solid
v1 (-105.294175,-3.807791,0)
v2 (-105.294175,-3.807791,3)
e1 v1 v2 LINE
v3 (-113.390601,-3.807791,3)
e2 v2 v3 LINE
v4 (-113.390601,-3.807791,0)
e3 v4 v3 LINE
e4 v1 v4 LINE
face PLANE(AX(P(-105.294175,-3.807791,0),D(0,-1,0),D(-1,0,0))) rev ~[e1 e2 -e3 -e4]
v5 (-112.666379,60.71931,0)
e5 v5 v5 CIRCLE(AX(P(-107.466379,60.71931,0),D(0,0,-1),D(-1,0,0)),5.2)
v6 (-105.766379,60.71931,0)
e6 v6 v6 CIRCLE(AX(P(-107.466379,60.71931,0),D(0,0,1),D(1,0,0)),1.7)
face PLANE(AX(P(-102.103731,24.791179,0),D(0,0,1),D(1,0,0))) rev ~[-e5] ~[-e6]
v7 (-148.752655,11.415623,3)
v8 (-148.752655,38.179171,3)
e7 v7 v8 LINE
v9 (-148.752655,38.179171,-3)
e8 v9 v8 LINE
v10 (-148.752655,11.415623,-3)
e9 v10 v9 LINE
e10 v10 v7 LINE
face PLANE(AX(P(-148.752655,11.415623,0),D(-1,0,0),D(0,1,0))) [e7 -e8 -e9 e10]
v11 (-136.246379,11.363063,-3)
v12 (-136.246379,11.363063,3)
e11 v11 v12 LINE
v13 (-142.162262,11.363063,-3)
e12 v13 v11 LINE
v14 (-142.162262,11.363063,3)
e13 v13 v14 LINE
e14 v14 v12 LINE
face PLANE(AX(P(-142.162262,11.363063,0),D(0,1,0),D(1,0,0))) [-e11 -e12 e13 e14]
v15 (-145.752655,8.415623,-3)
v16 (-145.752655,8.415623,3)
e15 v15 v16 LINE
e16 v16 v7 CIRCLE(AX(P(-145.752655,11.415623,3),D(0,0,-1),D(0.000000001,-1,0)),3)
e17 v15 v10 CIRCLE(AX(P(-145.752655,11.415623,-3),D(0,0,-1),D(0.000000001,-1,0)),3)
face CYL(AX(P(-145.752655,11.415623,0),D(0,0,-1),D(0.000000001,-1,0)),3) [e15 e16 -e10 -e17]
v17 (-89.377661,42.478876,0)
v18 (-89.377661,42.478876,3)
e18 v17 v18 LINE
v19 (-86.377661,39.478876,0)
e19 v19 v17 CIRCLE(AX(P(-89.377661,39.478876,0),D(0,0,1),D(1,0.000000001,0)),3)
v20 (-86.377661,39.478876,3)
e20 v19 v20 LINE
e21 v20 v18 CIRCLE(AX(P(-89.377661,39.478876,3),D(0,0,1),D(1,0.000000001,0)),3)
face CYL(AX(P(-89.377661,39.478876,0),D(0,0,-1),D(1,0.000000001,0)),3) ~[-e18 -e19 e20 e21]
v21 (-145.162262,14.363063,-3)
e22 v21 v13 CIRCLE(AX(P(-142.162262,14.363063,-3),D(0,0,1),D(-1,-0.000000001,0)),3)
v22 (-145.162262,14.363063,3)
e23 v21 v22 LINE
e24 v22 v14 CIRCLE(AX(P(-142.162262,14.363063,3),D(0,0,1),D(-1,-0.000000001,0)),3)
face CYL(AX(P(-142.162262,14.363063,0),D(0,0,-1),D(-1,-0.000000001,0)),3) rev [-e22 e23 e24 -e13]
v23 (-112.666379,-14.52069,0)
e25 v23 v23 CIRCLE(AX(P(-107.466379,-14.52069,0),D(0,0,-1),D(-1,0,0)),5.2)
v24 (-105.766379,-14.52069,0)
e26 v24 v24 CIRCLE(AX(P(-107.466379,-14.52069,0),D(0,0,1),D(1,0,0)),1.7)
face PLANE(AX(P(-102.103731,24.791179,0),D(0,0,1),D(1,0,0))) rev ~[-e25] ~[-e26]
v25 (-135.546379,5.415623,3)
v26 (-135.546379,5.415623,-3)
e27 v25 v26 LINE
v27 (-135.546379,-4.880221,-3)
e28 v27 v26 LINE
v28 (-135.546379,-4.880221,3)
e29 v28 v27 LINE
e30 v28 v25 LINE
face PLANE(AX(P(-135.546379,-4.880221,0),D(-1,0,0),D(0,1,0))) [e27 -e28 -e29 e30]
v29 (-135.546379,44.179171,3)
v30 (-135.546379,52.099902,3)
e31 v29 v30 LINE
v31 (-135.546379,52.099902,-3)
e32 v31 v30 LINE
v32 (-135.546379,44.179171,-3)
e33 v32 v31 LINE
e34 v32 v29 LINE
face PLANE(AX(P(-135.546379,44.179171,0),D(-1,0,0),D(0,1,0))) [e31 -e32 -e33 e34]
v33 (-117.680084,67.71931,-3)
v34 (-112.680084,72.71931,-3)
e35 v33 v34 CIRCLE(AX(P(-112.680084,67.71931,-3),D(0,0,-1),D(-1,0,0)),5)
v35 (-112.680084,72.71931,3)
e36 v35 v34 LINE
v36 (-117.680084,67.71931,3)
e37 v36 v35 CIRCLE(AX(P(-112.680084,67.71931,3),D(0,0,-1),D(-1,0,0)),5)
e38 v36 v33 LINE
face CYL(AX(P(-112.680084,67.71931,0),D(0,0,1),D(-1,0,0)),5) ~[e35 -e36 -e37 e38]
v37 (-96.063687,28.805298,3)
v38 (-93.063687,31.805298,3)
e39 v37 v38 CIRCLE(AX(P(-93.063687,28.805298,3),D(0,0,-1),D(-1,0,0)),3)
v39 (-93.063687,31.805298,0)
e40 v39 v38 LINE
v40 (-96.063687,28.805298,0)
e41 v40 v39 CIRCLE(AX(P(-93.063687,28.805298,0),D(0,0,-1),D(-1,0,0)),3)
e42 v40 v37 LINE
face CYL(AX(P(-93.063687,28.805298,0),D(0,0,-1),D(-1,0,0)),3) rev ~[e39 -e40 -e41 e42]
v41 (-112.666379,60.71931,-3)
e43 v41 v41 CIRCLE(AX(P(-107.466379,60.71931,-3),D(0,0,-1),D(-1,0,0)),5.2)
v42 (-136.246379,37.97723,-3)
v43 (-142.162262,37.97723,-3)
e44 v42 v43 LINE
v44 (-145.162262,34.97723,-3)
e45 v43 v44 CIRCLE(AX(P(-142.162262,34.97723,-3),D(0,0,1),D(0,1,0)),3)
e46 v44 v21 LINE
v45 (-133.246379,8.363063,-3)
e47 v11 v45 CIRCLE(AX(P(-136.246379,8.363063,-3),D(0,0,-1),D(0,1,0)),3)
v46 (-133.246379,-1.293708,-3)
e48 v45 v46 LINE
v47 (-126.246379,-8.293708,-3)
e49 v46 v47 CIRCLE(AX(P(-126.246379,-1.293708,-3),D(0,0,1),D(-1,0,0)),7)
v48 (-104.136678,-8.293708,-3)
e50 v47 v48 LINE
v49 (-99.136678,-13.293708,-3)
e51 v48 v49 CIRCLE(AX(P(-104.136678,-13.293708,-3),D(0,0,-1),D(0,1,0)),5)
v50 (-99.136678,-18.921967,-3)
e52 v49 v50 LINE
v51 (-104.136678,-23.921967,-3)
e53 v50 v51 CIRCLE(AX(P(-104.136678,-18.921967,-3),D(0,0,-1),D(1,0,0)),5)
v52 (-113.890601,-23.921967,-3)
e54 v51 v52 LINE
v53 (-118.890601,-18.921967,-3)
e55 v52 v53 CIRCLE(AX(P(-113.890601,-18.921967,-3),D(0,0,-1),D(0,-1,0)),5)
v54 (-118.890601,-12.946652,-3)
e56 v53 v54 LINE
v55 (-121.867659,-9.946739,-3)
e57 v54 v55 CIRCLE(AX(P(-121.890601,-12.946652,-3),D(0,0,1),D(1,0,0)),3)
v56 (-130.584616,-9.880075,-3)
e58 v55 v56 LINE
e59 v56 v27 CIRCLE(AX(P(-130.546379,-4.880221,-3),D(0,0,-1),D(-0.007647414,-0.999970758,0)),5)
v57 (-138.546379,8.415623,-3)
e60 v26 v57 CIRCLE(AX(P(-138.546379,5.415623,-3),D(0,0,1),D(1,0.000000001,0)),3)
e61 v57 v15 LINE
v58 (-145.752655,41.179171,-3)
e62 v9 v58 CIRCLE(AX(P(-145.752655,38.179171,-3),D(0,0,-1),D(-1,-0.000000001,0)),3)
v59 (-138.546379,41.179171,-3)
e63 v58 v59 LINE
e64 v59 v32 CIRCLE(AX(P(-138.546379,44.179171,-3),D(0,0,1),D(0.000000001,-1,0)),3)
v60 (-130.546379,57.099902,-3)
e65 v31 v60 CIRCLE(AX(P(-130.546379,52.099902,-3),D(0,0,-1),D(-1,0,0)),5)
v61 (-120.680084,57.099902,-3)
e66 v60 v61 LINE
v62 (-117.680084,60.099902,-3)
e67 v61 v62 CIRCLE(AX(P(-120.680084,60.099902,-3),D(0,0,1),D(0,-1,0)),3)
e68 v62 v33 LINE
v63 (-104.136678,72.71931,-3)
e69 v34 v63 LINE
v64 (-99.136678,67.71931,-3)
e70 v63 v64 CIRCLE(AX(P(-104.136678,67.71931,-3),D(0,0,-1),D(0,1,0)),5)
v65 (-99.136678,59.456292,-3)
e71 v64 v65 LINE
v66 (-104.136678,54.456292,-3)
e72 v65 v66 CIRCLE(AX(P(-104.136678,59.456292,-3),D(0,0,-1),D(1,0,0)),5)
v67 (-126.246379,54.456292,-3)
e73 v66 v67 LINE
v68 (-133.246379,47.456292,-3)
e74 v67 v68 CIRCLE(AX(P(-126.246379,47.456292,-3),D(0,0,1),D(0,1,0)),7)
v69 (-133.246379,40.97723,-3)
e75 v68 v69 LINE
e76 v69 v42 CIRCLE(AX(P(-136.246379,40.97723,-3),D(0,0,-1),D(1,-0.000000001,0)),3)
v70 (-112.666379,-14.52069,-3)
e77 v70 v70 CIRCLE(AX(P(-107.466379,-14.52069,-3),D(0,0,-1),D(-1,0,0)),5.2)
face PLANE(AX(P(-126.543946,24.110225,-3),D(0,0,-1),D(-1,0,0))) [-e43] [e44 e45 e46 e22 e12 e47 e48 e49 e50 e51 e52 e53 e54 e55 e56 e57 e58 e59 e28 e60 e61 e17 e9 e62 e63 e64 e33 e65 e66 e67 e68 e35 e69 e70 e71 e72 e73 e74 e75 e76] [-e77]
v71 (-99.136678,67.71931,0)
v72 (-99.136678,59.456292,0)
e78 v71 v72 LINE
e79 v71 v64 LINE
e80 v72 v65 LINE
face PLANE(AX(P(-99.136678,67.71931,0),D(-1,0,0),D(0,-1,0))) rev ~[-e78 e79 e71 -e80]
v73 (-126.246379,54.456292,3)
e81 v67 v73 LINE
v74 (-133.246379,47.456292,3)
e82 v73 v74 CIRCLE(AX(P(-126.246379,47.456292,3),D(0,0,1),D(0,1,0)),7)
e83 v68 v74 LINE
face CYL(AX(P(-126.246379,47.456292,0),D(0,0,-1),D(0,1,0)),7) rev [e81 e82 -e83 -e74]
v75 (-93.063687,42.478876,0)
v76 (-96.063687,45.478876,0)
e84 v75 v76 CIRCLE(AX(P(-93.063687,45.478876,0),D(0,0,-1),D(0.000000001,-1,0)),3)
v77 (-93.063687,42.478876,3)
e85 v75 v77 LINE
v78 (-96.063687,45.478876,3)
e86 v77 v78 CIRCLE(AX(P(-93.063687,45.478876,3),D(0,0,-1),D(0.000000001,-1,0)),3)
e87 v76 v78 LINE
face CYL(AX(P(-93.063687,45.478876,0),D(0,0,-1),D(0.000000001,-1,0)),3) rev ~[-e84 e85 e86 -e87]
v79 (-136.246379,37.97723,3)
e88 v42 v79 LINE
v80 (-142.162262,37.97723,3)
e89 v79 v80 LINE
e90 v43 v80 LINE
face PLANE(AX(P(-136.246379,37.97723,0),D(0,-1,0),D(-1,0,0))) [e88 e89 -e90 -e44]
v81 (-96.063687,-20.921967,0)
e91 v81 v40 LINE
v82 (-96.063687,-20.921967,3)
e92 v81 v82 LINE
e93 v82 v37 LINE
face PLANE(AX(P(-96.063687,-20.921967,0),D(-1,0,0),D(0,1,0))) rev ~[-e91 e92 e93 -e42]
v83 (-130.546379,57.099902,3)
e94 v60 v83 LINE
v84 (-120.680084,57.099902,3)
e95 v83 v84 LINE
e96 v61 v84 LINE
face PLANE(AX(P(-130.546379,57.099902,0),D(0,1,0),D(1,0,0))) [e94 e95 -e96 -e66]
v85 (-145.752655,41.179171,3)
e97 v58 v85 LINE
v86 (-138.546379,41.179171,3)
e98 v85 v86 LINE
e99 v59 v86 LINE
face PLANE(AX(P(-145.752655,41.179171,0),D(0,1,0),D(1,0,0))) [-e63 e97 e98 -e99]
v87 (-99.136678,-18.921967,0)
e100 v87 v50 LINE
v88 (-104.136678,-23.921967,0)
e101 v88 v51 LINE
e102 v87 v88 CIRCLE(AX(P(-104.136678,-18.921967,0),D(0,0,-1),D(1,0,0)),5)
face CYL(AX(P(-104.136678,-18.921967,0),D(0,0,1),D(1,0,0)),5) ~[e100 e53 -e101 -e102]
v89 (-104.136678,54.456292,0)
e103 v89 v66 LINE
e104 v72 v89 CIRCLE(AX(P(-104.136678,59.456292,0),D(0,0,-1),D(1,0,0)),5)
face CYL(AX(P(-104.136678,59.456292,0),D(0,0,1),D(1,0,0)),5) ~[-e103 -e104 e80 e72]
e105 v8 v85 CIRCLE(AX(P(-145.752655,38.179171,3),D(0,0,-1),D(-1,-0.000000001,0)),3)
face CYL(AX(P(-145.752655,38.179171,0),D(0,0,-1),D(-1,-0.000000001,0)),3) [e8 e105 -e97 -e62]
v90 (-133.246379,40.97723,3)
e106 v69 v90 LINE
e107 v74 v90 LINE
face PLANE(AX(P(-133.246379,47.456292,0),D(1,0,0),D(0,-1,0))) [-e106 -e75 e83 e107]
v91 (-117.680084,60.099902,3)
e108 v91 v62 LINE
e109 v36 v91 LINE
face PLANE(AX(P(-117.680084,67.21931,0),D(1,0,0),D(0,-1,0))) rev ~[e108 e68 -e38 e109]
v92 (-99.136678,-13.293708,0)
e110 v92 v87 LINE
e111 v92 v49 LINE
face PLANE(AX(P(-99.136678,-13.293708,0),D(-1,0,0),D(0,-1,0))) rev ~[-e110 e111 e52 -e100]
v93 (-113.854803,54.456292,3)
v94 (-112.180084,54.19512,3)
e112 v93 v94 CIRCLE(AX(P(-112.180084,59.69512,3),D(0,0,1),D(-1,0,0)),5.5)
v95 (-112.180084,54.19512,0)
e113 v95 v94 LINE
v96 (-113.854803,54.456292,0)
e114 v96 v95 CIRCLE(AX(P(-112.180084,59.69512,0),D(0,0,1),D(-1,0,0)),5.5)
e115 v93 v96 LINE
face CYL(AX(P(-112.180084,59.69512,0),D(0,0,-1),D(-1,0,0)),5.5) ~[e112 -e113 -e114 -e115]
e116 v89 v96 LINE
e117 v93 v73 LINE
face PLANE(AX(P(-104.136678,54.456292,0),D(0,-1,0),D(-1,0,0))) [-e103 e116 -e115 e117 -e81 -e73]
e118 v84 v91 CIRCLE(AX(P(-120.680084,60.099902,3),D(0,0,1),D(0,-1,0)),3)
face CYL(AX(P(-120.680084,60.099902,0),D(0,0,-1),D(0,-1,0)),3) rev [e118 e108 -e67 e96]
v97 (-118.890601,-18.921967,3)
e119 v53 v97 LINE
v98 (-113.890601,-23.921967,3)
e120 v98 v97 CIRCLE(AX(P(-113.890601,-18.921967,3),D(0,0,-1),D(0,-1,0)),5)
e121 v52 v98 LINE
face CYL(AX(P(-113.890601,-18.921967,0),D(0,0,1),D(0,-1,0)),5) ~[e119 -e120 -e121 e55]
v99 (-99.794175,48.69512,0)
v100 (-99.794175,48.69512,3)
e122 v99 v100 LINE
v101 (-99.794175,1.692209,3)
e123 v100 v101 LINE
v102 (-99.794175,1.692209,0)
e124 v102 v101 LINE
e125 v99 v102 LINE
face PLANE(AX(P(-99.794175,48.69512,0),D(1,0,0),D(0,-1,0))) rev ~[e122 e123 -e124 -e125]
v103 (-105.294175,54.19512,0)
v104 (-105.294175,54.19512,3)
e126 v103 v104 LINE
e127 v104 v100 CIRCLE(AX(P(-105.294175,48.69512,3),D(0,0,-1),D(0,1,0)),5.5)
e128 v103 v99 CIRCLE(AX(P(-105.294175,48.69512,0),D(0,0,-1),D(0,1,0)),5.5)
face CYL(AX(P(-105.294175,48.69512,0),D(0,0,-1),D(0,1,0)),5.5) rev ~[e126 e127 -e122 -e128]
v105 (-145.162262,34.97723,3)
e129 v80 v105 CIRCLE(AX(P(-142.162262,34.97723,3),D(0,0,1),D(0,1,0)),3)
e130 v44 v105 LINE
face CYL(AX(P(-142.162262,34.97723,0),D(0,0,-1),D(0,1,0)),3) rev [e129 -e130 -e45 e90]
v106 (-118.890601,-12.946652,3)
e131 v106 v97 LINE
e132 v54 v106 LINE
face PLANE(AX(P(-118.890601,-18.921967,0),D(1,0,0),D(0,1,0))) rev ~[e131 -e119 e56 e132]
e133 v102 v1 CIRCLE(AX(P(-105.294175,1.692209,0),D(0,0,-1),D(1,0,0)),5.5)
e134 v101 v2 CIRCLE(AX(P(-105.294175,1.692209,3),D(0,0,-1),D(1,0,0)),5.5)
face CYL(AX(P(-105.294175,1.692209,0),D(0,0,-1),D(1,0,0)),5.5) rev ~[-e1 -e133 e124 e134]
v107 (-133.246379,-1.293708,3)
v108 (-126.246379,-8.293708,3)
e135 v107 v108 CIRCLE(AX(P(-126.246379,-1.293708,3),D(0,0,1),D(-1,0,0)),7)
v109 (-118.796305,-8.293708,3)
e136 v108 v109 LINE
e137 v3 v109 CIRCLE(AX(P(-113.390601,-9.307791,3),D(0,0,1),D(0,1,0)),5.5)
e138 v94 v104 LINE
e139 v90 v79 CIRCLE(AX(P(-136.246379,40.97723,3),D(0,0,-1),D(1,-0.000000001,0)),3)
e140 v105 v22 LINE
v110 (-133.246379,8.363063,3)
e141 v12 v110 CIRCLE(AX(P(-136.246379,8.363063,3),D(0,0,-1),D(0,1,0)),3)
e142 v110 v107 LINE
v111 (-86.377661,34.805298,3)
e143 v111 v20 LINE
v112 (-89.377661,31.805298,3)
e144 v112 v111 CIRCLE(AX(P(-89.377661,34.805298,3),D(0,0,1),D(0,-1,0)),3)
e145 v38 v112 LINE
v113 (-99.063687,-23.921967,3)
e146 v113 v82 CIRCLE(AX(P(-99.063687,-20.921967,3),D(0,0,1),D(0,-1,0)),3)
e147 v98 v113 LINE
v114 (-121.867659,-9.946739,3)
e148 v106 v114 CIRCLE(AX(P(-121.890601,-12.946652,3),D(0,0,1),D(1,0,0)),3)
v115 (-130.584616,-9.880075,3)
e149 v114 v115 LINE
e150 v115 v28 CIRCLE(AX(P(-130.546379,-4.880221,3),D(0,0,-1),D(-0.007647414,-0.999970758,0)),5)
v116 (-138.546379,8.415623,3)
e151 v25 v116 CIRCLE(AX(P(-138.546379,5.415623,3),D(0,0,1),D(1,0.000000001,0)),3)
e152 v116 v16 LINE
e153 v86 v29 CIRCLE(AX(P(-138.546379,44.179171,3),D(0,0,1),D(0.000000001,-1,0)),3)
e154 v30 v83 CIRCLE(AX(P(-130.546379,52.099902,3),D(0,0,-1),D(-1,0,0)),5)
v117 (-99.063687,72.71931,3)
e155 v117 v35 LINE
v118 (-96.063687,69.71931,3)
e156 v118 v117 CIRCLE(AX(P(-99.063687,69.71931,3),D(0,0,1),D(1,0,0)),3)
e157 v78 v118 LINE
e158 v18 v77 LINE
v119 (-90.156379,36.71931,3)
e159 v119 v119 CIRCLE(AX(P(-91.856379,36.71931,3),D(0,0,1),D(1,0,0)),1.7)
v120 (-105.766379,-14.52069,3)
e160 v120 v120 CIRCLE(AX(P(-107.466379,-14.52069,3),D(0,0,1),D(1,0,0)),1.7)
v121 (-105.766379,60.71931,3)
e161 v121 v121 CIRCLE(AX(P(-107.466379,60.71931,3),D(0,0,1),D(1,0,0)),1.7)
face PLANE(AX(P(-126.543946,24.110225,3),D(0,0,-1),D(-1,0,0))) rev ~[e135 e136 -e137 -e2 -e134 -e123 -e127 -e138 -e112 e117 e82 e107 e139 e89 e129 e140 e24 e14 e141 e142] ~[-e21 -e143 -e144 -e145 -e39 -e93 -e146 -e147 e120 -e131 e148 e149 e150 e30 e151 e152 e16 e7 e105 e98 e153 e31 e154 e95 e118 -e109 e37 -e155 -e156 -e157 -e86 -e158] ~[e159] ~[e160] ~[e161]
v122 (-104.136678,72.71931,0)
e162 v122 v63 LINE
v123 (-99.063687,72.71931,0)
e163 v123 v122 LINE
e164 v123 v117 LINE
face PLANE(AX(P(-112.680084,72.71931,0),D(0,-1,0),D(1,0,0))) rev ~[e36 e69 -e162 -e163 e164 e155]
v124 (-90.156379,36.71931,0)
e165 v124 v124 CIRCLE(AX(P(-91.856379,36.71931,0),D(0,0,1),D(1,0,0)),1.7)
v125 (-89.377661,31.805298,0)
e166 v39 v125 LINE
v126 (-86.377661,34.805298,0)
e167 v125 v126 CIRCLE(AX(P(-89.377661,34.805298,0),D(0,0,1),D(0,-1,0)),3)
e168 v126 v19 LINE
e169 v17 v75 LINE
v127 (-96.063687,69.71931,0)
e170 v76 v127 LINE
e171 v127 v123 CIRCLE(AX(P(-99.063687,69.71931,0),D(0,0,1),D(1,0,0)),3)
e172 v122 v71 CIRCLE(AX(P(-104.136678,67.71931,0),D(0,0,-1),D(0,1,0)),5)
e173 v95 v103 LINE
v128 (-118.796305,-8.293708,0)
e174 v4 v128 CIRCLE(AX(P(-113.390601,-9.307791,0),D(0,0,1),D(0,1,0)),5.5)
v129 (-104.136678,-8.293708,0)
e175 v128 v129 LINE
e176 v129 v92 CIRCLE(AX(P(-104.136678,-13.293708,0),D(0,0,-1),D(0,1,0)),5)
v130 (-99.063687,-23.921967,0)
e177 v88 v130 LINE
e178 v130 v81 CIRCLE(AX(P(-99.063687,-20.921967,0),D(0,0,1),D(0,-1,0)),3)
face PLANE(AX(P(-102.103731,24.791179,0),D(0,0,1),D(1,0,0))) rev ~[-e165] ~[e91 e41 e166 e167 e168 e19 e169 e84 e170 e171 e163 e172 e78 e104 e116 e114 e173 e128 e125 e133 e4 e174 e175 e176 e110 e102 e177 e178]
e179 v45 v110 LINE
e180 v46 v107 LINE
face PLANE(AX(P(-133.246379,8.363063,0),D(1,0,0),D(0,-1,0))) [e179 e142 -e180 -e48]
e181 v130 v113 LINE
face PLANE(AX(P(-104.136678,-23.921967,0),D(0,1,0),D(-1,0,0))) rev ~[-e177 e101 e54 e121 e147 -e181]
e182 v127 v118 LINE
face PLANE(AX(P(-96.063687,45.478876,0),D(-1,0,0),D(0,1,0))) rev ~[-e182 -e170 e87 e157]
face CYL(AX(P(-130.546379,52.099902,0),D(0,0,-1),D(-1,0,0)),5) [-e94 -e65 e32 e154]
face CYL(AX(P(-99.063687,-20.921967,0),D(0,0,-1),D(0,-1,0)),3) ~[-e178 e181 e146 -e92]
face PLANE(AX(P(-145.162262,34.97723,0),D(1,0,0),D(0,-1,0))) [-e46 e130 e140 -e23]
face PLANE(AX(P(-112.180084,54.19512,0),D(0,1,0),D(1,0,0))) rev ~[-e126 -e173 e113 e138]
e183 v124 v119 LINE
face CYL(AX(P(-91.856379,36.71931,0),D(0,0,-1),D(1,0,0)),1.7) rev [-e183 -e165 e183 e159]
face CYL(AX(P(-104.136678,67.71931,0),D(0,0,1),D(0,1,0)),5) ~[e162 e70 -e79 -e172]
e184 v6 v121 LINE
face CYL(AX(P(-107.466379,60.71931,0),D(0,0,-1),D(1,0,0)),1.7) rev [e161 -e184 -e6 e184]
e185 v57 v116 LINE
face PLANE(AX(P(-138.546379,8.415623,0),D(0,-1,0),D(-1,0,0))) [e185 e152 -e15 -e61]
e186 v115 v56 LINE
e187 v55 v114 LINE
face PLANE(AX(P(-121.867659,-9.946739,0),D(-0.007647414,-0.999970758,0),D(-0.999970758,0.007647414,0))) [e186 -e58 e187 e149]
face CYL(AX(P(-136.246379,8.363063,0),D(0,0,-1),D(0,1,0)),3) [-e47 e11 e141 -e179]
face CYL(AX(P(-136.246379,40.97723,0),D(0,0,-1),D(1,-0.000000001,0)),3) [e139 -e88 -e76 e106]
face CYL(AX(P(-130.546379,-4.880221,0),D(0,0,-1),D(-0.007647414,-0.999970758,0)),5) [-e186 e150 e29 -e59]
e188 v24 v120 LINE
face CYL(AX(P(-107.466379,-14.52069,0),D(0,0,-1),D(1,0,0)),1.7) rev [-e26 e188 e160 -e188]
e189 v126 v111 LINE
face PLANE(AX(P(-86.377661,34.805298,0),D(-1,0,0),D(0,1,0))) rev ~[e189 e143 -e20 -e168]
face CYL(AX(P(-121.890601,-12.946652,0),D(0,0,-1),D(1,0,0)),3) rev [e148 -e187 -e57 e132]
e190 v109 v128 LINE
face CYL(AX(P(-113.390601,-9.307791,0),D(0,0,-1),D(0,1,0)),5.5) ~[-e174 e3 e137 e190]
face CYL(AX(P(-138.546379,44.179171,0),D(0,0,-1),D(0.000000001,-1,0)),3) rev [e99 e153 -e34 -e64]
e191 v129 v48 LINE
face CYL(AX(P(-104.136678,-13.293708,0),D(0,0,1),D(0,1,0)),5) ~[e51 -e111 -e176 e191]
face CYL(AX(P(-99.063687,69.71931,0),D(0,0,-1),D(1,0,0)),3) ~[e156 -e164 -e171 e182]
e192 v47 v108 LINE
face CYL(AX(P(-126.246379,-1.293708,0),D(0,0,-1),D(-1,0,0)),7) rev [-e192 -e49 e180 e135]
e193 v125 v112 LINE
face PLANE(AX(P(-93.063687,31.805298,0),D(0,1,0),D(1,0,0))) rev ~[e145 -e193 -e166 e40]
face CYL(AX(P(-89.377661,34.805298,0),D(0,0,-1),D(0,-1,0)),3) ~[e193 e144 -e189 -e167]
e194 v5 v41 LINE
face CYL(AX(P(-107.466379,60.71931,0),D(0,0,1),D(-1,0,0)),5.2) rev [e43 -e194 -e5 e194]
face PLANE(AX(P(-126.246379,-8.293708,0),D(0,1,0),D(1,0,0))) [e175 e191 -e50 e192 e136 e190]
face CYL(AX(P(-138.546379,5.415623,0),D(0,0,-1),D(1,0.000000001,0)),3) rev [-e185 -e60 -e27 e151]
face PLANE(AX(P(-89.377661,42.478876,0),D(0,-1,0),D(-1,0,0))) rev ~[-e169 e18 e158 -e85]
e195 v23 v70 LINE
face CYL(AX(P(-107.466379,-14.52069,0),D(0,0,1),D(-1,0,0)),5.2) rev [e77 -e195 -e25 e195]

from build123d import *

# Parameters (mm, degrees)
ESQUISSE1_R             = 1.7
BOSS_EXTRU_1_DEPTH      = 3
BOSS_EXTRU_2_DEPTH      = 3
BOSS_EXTRU_2_DEPTH_BACK = 3
ESQUISSE2_R             = 5.2


with BuildPart() as part:
    # Esquisse1 → Boss.-Extru.1 (new body)
    with BuildSketch(Plane.XY):
        with BuildLine():
            Line((-117.680084405, 66.939310237), (-117.680084405, 59.695120061))
            ThreePointArc((-117.680084405, 59.695120061), (-116.069171702, 55.806032765), (-112.180084405, 54.195120061))
            Line((-112.180084405, 54.195120061), (-105.294175096, 54.195120061))
            ThreePointArc((-105.294175096, 54.195120061), (-101.4050878, 52.584207358), (-99.794175096, 48.695120061))
            Line((-99.794175096, 48.695120061), (-99.794175096, 35.930823665))
            Line((-99.794175096, 35.930823665), (-99.794175096, 12.910007682))
            Line((-99.794175096, 12.910007682), (-99.794175096, 1.692208933))
            ThreePointArc((-99.794175096, 1.692208933), (-101.4050878, -2.196878364), (-105.294175096, -3.807791067))
            Line((-105.294175096, -3.807791067), (-113.390601299, -3.807791067))
            ThreePointArc((-113.390601299, -3.807791067), (-117.279688595, -5.418703771), (-118.890601299, -9.307791067))
            Line((-118.890601299, -9.307791067), (-118.890601299, -18.42196685))
            ThreePointArc((-118.890601299, -18.42196685), (-117.279688595, -22.311054147), (-113.390601299, -23.92196685))
            Line((-113.390601299, -23.92196685), (-99.794175096, -23.92196685))
            Line((-99.794175096, -23.92196685), (-99.063687308, -23.92196685))
            ThreePointArc((-99.063687308, -23.92196685), (-96.942366965, -23.043287194), (-96.063687308, -20.92196685))
            Line((-96.063687308, -20.92196685), (-96.063687308, 28.805298211))
            ThreePointArc((-96.063687308, 28.805298211), (-95.185007652, 30.926618554), (-93.063687308, 31.805298211))
            Line((-93.063687308, 31.805298211), (-89.37766128, 31.805298211))
            ThreePointArc((-89.37766128, 31.805298211), (-87.256340937, 32.683977867), (-86.37766128, 34.805298211))
            Line((-86.37766128, 34.805298211), (-86.37766128, 39.478876094))
            ThreePointArc((-86.37766128, 39.478876094), (-87.256340937, 41.600196437), (-89.37766128, 42.478876094))
            Line((-89.37766128, 42.478876094), (-93.063687308, 42.478876094))
            ThreePointArc((-93.063687308, 42.478876094), (-95.185007652, 43.35755575), (-96.063687308, 45.478876094))
            Line((-96.063687308, 45.478876094), (-96.063687308, 69.719310237))
            ThreePointArc((-96.063687308, 69.719310237), (-96.942366965, 71.840630581), (-99.063687308, 72.719310237))
            Line((-99.063687308, 72.719310237), (-112.180084405, 72.719310237))
            ThreePointArc((-112.180084405, 72.719310237), (-116.069171702, 71.108397534), (-117.680084405, 67.219310237))
            Line((-117.680084405, 67.219310237), (-117.680084405, 66.939310237))
        make_face()
        with Locations((-91.856378892, 36.719310237)):
            Circle(ESQUISSE1_R, mode=Mode.SUBTRACT)
        with Locations((-107.466378892, -14.520689763)):
            Circle(ESQUISSE1_R, mode=Mode.SUBTRACT)
        with Locations((-107.466378892, 60.719310237)):
            Circle(ESQUISSE1_R, mode=Mode.SUBTRACT)
    extrude(amount=BOSS_EXTRU_1_DEPTH)

    # Esquisse2 → Boss.-Extru.2 (add, two sides: drawn at the far end of the back side and taken through both)
    with BuildSketch(Plane(origin=(0, 0, 0), x_dir=(-1, 0, 0), z_dir=(0, 0, -1)).offset(-BOSS_EXTRU_2_DEPTH_BACK)):
        with BuildLine():
            Line((121.867659056, -9.94673926), (130.584615963, -9.880075131))
            ThreePointArc((130.584615963, -9.880075131), (134.095405897, -8.402210456), (135.546378892, -4.880221341))
            Line((135.546378892, -4.880221341), (135.546378892, 5.415623015))
            ThreePointArc((135.546378892, 5.415623015), (136.425058549, 7.536943358), (138.546378892, 8.415623015))
            Line((138.546378892, 8.415623015), (145.752654566, 8.415623015))
            ThreePointArc((145.752654566, 8.415623015), (147.87397491, 9.294302671), (148.752654566, 11.415623015))
            Line((148.752654566, 11.415623015), (148.752654566, 38.179170847))
            ThreePointArc((148.752654566, 38.179170847), (147.87397491, 40.300491191), (145.752654566, 41.179170847))
            Line((145.752654566, 41.179170847), (138.546378892, 41.179170847))
            ThreePointArc((138.546378892, 41.179170847), (136.425058549, 42.057850504), (135.546378892, 44.179170847))
            Line((135.546378892, 44.179170847), (135.546378892, 52.099902349))
            ThreePointArc((135.546378892, 52.099902349), (134.081912798, 55.635436255), (130.546378892, 57.099902349))
            Line((130.546378892, 57.099902349), (120.680084405, 57.099902349))
            ThreePointArc((120.680084405, 57.099902349), (118.558764062, 57.978582005), (117.680084405, 60.099902349))
            Line((117.680084405, 60.099902349), (117.680084405, 67.719310237))
            ThreePointArc((117.680084405, 67.719310237), (116.215618311, 71.254844143), (112.680084405, 72.719310237))
            Line((112.680084405, 72.719310237), (104.136677999, 72.719310237))
            ThreePointArc((104.136677999, 72.719310237), (100.601144093, 71.254844143), (99.136677999, 67.719310237))
            Line((99.136677999, 67.719310237), (99.136677999, 59.456292263))
            ThreePointArc((99.136677999, 59.456292263), (100.601144093, 55.920758357), (104.136677999, 54.456292263))
            Line((104.136677999, 54.456292263), (126.246378892, 54.456292263))
            ThreePointArc((126.246378892, 54.456292263), (131.196126361, 52.406039732), (133.246378892, 47.456292263))
            Line((133.246378892, 47.456292263), (133.246378892, 40.977229779))
            ThreePointArc((133.246378892, 40.977229779), (134.125058549, 38.855909436), (136.246378892, 37.977229779))
            Line((136.246378892, 37.977229779), (142.162261637, 37.977229779))
            ThreePointArc((142.162261637, 37.977229779), (144.28358198, 37.098550123), (145.162261637, 34.977229779))
            Line((145.162261637, 34.977229779), (145.162261637, 14.363062522))
            ThreePointArc((145.162261637, 14.363062522), (144.28358198, 12.241742179), (142.162261637, 11.363062522))
            Line((142.162261637, 11.363062522), (136.246378892, 11.363062522))
            ThreePointArc((136.246378892, 11.363062522), (134.125058549, 10.484382866), (133.246378892, 8.363062522))
            Line((133.246378892, 8.363062522), (133.246378892, -1.293707737))
            ThreePointArc((133.246378892, -1.293707737), (131.196126361, -6.243455205), (126.246378892, -8.293707737))
            Line((126.246378892, -8.293707737), (104.136677999, -8.293707737))
            ThreePointArc((104.136677999, -8.293707737), (100.601144093, -9.758173831), (99.136677999, -13.293707737))
            Line((99.136677999, -13.293707737), (99.136677999, -18.92196685))
            ThreePointArc((99.136677999, -18.92196685), (100.601144093, -22.457500756), (104.136677999, -23.92196685))
            Line((104.136677999, -23.92196685), (113.890601299, -23.92196685))
            ThreePointArc((113.890601299, -23.92196685), (117.426135205, -22.457500756), (118.890601299, -18.92196685))
            Line((118.890601299, -18.92196685), (118.890601299, -12.946651534))
            ThreePointArc((118.890601299, -12.946651534), (119.761185096, -10.833458065), (121.867659056, -9.94673926))
        make_face()
        with Locations((107.466378892, -14.520689763)):
            Circle(ESQUISSE2_R, mode=Mode.SUBTRACT)
        with Locations((107.466378892, 60.719310237)):
            Circle(ESQUISSE2_R, mode=Mode.SUBTRACT)
    extrude(amount=BOSS_EXTRU_2_DEPTH + BOSS_EXTRU_2_DEPTH_BACK)


solid = part.part
